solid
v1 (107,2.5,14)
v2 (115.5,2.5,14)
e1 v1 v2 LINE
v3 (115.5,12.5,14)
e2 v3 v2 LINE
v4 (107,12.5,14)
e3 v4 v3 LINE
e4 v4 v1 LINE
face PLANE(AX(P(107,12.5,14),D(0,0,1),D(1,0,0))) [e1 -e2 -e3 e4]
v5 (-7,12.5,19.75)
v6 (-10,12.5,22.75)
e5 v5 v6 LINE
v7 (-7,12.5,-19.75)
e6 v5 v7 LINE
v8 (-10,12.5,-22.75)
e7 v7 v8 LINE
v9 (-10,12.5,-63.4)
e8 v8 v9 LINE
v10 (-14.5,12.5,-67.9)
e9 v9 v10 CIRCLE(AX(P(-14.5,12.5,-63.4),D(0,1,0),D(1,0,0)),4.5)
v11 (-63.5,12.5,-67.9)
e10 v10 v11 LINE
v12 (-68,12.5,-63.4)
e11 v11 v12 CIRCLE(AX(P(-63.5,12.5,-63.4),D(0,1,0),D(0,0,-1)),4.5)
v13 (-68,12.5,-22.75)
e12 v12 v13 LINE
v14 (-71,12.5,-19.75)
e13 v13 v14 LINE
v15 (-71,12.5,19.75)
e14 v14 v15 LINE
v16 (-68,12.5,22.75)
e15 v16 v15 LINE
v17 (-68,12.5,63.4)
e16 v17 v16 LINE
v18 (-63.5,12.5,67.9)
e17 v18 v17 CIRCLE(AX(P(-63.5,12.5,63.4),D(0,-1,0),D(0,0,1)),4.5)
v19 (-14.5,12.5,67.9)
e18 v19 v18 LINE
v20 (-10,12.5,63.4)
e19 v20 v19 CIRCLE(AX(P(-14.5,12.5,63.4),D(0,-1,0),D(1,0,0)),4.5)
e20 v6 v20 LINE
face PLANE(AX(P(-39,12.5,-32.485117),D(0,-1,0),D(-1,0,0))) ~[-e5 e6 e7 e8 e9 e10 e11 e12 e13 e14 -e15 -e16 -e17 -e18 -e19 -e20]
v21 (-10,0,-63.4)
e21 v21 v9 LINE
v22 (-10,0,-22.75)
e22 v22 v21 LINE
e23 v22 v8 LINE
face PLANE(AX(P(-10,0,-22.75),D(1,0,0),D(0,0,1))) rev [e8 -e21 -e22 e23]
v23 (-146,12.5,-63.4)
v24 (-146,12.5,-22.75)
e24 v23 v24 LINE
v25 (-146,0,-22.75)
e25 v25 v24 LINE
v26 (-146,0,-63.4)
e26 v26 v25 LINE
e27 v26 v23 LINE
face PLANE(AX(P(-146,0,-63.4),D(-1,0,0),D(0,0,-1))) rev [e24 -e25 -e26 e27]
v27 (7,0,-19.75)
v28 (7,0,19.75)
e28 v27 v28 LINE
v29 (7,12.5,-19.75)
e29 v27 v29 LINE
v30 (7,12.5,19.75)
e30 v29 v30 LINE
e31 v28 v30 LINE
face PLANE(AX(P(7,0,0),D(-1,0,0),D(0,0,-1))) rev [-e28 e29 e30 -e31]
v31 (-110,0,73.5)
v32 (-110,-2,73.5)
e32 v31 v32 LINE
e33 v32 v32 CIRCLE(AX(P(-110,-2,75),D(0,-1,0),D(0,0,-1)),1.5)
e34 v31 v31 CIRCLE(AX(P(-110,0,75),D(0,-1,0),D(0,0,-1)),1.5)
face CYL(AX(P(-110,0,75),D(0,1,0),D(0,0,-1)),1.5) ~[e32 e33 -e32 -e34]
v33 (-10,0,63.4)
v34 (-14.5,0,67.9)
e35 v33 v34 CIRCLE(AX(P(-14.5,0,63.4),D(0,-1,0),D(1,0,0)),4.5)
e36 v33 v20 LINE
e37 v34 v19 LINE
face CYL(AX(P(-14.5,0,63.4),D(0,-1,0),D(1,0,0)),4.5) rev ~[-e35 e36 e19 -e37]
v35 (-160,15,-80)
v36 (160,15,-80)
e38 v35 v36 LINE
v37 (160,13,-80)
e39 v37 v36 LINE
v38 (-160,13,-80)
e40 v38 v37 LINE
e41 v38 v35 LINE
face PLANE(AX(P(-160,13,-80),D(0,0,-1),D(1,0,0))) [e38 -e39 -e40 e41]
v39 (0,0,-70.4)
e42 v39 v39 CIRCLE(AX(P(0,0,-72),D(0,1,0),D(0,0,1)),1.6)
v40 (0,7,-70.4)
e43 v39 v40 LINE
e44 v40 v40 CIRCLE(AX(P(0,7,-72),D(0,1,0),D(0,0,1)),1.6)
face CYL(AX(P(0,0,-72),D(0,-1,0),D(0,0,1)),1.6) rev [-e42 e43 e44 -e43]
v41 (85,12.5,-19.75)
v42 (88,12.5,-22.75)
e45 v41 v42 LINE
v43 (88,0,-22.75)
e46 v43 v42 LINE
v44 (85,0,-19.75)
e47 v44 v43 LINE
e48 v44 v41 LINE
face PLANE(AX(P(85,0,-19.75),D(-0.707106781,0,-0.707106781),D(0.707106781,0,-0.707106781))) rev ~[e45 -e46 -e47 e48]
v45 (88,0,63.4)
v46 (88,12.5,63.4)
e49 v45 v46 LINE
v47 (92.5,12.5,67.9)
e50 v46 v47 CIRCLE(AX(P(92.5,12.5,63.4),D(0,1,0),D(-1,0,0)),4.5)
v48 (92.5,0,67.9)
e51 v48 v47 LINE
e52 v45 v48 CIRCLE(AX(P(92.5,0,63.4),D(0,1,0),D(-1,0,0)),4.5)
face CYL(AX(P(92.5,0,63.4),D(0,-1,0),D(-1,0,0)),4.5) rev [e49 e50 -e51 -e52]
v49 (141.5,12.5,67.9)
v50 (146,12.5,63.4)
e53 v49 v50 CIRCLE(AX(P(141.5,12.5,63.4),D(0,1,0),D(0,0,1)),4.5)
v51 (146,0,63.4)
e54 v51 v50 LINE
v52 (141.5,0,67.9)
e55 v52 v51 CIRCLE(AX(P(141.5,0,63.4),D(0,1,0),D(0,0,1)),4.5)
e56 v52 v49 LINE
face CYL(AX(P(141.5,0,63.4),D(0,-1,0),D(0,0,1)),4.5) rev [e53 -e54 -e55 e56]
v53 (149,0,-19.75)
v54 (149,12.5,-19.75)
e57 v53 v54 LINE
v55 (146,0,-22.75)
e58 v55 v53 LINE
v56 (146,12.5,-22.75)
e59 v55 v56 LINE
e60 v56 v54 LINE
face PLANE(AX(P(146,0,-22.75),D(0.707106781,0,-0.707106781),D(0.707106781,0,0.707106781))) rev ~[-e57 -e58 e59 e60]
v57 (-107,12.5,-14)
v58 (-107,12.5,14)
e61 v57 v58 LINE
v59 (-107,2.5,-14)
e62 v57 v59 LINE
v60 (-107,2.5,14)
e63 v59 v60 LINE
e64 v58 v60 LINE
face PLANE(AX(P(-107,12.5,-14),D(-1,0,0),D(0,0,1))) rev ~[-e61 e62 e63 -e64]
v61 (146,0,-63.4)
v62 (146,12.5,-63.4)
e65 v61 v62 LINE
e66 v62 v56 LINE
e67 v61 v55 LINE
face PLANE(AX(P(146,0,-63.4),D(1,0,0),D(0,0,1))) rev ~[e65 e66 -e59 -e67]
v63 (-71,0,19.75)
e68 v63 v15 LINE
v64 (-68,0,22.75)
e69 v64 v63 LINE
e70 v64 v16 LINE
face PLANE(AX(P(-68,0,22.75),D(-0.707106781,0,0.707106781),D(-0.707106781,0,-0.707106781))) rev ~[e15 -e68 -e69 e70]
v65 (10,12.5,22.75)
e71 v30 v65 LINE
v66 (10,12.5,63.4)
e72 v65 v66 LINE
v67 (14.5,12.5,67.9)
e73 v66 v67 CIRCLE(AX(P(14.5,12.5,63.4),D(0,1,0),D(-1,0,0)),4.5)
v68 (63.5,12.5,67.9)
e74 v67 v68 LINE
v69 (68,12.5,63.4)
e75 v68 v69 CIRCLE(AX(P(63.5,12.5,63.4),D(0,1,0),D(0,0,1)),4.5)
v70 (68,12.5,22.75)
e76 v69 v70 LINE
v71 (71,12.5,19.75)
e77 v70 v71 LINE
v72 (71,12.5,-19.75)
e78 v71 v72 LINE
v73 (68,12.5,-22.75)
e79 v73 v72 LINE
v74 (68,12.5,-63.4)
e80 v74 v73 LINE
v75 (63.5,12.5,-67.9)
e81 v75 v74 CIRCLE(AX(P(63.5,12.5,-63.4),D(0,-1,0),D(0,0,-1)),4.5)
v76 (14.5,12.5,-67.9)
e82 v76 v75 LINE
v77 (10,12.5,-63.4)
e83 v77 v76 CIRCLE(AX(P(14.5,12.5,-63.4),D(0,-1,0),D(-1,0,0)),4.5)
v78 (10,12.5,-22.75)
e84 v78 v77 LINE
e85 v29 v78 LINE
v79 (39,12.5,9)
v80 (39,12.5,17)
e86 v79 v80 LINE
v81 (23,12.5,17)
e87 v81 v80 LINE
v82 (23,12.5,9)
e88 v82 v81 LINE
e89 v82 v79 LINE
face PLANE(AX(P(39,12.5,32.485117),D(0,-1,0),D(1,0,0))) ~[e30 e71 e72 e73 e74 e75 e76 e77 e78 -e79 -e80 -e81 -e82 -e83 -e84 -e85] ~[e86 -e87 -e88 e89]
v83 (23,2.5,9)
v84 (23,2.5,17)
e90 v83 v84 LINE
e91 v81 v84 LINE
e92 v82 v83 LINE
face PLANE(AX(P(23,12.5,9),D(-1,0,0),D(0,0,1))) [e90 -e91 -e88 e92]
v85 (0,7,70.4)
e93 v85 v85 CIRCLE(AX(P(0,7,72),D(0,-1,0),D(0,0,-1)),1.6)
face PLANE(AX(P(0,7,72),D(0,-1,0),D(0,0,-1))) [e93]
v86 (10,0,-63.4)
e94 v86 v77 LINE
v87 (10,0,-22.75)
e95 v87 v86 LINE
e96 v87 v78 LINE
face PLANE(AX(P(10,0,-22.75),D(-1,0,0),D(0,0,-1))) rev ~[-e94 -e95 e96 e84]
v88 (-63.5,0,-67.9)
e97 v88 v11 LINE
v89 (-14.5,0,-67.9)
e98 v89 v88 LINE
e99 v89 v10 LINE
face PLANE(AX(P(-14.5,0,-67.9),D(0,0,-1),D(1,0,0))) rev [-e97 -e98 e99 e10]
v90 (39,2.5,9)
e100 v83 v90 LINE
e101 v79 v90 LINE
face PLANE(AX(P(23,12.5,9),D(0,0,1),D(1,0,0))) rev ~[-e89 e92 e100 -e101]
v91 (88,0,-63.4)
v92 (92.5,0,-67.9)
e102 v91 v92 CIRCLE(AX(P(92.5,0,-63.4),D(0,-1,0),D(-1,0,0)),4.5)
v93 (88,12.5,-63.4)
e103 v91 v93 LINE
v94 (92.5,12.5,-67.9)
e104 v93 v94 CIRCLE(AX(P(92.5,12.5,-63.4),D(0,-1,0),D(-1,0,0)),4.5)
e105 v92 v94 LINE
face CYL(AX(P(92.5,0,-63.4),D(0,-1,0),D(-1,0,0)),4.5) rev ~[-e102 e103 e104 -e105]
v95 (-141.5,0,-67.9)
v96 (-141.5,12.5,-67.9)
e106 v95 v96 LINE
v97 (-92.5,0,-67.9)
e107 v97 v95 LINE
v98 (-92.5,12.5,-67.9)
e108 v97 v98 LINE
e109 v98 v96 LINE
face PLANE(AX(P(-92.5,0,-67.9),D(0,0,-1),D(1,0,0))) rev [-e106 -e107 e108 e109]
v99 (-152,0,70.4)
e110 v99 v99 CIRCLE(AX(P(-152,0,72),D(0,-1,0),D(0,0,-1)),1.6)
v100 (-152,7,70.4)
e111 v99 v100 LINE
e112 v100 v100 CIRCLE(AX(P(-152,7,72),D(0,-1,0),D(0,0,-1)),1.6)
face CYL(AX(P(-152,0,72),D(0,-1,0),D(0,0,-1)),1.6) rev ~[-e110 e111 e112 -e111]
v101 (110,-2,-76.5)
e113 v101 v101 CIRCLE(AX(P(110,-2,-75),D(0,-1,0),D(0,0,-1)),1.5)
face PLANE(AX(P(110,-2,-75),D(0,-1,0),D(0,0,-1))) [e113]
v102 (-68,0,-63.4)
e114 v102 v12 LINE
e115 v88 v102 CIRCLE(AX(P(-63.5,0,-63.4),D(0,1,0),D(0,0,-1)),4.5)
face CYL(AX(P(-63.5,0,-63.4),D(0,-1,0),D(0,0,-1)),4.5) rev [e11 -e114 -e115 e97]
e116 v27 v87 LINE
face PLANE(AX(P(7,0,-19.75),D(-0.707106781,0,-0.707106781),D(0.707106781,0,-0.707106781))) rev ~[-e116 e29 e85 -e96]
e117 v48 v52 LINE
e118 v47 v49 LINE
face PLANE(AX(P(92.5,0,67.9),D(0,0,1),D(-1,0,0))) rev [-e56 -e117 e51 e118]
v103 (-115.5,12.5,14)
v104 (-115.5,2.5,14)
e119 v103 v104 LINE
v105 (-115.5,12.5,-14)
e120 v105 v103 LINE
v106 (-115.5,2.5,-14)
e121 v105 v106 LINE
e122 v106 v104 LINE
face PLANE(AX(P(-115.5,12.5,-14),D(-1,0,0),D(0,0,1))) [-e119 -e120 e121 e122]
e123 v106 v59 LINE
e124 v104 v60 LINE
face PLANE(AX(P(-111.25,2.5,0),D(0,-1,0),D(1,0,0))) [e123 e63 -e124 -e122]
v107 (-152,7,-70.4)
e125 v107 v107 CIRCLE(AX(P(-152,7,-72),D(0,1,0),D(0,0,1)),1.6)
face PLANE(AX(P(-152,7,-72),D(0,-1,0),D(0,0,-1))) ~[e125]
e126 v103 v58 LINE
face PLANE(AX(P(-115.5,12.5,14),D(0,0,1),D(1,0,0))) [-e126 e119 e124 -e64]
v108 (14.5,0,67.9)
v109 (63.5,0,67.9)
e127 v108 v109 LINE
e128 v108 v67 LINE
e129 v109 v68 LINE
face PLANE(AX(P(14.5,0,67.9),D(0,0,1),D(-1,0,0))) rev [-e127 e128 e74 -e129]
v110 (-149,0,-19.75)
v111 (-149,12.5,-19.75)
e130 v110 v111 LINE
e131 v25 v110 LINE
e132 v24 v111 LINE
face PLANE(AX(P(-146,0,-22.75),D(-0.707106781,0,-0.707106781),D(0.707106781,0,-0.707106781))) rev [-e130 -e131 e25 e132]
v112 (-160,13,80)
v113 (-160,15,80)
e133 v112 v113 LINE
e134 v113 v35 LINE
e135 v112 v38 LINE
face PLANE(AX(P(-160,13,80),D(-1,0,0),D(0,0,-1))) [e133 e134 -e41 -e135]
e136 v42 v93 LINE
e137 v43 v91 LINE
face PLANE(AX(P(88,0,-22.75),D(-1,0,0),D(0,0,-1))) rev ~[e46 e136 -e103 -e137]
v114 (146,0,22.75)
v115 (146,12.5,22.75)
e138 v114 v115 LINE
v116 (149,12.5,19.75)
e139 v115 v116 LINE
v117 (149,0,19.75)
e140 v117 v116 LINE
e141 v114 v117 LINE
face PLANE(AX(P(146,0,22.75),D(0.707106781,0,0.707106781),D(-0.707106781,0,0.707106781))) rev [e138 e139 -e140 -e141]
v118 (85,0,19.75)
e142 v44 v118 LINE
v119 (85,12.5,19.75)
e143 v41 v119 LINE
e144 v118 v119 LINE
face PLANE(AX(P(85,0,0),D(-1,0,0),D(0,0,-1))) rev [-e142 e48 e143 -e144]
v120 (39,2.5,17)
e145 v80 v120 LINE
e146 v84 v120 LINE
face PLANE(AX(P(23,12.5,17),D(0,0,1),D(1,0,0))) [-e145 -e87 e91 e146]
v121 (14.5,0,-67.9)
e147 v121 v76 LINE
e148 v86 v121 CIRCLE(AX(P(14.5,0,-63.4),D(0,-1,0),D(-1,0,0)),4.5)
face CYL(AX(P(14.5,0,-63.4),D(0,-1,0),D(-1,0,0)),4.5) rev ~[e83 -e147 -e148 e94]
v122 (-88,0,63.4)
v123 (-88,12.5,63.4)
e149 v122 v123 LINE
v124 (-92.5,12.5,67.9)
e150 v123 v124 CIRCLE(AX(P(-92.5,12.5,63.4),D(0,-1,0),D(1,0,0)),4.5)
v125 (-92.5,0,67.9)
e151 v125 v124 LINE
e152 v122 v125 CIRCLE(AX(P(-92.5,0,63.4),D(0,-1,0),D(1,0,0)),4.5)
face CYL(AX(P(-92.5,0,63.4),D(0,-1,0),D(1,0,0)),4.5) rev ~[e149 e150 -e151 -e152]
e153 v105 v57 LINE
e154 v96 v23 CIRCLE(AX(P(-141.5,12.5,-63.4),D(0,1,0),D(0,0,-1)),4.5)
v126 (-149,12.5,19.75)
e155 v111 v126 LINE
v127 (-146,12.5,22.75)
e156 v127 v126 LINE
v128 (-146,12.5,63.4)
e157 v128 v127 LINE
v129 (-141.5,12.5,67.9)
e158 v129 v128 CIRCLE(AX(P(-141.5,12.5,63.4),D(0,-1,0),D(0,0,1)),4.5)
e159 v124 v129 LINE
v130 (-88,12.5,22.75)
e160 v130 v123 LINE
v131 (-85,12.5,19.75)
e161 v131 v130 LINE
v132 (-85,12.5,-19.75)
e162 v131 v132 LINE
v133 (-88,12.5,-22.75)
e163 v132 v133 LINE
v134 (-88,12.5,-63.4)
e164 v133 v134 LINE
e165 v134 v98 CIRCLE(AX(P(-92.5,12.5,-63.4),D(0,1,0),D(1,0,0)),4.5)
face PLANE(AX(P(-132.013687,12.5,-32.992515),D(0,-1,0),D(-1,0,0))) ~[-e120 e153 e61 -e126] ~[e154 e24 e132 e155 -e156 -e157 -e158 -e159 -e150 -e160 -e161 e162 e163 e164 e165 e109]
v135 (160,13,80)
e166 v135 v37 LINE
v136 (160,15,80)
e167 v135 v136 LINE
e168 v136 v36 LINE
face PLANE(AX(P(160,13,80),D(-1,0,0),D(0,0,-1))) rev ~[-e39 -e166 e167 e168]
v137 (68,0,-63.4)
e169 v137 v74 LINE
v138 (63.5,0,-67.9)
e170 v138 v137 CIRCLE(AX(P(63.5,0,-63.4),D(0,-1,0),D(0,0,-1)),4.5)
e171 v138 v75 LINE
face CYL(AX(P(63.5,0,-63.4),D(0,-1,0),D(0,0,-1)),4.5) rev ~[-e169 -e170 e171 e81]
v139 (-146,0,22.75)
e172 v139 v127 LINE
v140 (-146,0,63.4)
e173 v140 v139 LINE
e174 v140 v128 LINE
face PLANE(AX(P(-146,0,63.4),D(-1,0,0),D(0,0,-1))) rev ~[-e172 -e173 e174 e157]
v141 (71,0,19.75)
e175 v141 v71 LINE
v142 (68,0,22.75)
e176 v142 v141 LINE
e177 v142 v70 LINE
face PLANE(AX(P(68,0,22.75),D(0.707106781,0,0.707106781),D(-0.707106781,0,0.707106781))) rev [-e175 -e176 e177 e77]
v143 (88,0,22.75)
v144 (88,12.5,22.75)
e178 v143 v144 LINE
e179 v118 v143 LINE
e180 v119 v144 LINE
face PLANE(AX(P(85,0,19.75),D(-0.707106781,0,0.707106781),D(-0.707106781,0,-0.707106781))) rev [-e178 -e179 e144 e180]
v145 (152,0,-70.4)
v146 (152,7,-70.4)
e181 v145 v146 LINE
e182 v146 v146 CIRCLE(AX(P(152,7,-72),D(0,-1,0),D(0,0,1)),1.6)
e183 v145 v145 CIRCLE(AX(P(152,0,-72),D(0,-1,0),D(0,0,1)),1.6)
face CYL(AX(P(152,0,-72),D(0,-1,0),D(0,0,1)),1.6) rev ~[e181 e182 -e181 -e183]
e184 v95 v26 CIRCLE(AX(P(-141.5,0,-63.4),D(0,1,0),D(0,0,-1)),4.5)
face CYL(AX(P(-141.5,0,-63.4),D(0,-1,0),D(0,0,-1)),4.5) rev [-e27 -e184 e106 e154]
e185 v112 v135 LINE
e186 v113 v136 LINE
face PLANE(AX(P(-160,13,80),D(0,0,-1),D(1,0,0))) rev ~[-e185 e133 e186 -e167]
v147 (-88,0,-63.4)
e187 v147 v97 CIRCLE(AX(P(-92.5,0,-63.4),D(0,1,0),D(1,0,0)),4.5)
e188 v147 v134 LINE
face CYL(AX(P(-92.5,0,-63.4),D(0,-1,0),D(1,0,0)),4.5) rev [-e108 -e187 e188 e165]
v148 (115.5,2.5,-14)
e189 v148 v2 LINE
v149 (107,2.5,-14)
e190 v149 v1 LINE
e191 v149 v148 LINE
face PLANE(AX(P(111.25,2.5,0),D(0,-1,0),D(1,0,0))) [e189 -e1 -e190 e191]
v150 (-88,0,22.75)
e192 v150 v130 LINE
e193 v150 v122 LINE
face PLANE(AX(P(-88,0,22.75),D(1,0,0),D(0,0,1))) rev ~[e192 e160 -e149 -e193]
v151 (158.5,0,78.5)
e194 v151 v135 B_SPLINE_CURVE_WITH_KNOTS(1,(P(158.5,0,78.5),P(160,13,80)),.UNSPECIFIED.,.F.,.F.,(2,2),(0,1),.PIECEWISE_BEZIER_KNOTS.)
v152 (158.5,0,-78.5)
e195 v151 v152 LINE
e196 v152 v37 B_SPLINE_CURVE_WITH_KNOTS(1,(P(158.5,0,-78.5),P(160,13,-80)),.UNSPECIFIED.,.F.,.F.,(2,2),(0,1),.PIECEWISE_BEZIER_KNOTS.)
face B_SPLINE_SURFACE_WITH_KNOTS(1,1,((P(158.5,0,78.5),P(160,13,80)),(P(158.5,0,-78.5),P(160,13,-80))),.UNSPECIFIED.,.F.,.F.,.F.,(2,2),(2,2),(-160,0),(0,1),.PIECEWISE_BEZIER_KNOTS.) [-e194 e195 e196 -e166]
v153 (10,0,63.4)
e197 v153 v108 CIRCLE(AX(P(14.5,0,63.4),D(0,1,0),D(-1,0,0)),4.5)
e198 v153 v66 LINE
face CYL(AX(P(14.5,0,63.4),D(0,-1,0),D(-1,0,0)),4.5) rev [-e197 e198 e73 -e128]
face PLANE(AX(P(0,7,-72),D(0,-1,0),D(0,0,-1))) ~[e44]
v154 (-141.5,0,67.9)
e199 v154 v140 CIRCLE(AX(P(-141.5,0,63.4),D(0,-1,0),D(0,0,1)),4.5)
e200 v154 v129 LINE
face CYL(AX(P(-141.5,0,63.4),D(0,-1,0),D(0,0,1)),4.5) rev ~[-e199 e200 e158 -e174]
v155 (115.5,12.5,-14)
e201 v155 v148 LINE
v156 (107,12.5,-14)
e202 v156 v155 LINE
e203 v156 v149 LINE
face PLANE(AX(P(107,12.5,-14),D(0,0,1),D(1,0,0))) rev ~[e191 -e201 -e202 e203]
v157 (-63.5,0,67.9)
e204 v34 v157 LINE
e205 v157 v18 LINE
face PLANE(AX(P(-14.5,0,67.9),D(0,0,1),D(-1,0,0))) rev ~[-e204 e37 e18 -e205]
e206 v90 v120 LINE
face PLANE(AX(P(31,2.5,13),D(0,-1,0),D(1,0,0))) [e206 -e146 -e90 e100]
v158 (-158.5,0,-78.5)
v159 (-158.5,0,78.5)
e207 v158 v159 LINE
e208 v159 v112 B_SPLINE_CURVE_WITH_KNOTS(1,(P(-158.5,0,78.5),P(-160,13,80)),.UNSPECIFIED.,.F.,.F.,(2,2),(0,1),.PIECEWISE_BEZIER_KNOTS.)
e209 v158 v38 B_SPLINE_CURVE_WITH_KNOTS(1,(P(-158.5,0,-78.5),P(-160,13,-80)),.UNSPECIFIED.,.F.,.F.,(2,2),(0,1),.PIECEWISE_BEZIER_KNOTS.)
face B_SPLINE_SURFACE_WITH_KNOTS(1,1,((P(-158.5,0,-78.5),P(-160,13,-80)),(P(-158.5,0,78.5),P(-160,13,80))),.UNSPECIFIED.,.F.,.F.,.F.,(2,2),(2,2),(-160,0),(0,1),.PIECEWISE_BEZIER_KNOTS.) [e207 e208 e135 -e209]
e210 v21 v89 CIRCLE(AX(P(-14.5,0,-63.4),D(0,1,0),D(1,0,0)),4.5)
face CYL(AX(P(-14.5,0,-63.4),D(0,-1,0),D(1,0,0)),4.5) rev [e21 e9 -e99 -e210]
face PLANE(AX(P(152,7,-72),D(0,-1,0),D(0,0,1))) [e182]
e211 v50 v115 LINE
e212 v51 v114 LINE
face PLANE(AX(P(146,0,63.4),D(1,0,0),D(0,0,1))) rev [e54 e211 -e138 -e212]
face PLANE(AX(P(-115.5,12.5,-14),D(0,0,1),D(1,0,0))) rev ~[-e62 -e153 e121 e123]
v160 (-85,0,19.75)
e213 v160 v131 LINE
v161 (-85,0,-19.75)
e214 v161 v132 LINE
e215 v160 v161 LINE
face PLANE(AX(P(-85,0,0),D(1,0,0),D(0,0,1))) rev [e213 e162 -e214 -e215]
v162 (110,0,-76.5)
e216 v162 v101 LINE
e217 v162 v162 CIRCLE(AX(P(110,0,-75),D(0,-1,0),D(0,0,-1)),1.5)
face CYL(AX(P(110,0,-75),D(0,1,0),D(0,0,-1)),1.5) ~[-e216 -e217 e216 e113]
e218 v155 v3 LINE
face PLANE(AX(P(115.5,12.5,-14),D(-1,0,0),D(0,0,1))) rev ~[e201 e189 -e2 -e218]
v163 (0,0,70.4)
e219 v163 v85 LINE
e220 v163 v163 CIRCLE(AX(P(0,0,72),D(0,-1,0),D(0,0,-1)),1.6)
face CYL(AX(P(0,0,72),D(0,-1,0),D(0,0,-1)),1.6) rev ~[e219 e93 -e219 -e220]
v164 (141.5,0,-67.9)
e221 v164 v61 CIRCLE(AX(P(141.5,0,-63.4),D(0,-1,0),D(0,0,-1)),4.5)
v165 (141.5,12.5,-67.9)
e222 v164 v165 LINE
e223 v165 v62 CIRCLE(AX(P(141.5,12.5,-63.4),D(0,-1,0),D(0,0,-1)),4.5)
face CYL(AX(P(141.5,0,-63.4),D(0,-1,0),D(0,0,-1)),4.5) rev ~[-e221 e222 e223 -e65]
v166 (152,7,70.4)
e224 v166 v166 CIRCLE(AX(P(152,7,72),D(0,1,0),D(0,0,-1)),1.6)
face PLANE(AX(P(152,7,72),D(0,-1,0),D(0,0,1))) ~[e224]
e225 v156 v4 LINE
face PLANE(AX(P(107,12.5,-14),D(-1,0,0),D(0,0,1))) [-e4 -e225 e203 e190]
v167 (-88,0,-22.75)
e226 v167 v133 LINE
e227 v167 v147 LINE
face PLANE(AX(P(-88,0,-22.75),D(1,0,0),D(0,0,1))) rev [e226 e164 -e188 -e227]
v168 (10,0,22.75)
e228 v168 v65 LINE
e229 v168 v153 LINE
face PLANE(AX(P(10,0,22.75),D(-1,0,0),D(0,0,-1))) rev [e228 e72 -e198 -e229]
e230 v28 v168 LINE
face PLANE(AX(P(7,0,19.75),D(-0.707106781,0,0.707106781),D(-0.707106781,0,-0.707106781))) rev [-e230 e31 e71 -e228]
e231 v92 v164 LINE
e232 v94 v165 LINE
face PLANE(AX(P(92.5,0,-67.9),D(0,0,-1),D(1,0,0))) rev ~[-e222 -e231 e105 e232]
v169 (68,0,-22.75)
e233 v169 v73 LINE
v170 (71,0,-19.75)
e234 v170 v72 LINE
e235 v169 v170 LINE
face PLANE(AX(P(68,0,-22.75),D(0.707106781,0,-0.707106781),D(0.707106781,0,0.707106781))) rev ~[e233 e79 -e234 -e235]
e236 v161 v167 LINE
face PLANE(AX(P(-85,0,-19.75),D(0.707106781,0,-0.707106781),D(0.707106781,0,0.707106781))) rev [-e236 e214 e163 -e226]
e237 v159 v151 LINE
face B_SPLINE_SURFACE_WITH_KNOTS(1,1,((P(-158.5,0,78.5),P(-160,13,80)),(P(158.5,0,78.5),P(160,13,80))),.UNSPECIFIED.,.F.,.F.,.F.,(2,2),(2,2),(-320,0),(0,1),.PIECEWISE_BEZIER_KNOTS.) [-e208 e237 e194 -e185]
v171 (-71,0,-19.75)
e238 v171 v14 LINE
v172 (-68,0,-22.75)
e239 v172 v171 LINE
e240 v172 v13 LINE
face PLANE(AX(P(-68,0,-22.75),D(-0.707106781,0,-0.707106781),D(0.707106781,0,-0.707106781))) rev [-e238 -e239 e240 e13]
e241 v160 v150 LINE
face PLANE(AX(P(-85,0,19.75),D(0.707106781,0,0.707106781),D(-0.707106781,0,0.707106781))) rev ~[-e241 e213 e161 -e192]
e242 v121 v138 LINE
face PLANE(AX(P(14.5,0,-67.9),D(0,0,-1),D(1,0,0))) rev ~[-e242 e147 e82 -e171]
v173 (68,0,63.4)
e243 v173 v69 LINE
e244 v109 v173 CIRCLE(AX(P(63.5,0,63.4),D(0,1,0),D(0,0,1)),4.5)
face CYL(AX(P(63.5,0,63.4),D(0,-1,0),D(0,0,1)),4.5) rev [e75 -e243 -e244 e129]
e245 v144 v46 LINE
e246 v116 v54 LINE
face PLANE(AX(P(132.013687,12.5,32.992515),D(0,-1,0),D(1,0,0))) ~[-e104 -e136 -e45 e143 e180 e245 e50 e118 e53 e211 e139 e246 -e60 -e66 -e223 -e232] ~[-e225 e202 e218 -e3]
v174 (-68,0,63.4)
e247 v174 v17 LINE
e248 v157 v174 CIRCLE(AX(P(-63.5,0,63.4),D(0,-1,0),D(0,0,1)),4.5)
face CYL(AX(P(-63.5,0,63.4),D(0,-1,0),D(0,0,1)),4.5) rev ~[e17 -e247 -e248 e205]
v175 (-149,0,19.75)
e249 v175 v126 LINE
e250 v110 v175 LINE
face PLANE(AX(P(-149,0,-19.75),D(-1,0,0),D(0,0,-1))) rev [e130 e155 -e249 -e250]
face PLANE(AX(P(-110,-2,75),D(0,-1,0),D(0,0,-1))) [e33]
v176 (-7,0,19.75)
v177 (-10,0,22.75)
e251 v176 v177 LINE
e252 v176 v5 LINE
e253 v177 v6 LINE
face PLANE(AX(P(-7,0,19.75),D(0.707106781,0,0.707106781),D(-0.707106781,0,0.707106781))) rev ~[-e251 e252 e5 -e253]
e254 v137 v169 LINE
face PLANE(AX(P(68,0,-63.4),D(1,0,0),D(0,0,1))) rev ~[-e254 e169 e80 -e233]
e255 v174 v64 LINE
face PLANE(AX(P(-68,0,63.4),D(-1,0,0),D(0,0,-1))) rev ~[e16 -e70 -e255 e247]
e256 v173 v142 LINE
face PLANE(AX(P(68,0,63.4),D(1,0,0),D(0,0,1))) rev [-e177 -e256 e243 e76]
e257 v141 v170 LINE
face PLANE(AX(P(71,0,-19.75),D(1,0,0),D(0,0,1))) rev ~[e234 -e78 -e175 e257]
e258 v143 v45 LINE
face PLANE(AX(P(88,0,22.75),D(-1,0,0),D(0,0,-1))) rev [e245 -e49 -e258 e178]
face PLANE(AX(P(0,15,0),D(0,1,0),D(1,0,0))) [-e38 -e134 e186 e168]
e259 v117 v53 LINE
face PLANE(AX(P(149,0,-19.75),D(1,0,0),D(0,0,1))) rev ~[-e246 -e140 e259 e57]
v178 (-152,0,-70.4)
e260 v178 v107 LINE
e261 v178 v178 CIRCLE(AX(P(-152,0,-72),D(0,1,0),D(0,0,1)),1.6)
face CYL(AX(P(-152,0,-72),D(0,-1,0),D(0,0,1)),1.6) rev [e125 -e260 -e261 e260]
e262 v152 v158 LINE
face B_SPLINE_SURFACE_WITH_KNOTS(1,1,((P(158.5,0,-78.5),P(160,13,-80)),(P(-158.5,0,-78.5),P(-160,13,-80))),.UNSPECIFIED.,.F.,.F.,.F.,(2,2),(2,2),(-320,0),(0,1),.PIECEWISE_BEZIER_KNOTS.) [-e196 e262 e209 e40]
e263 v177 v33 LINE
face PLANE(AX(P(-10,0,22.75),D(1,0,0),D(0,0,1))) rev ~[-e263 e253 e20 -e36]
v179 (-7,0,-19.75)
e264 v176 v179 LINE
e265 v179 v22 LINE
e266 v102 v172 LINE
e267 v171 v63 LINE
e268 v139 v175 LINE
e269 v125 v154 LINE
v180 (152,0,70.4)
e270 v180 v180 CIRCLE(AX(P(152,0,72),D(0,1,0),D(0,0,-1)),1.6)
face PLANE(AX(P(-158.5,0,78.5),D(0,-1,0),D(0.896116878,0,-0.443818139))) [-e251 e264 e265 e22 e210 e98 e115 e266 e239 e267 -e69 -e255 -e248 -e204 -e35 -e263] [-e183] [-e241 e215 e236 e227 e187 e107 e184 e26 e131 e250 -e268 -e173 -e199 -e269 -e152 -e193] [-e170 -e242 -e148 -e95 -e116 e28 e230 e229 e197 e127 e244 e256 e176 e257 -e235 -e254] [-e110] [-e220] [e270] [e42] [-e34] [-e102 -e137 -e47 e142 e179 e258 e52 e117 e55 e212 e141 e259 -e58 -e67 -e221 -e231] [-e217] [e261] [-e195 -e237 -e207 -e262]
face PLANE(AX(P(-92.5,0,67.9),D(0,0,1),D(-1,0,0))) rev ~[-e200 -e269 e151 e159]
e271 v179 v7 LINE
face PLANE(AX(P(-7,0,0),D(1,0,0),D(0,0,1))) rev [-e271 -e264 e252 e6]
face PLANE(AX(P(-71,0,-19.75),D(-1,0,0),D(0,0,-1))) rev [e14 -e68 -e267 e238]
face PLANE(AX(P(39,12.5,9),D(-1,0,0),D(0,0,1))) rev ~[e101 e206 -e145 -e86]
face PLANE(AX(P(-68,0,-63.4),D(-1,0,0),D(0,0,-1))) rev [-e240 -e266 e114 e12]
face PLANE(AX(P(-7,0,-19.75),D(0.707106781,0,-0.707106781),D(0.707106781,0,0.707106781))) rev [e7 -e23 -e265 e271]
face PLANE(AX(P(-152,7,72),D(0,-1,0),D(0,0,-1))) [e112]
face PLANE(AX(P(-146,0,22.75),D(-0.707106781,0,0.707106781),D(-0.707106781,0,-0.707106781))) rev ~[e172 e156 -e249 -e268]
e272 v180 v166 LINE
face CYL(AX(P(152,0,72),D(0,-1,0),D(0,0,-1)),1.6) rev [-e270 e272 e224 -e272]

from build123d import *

# Parameters (mm, degrees)
SKETCH2_W                                  = 320
SKETCH2_H                                  = 160
BOSS_EXTRUDE1_DEPTH                        = 2
SKETCH3_R                                  = 1.6
CUT_EXTRUDE1_DEPTH                         = 7
CUT_EXTRUDE2_DEPTH                         = 12.5
MIRROR1_AT_THE_SECOND_PLANE_COPY_1_SKETC_R = 1.6
MIRROR1_AT_THE_SECOND_PLANE_COPY_1_DEPTH   = 7
MIRROR1_AT_THE_SECOND_PLANE_COPY_2_DEPTH   = 12.5
SKETCH4_W                                  = 8.5
SKETCH4_H                                  = 28
SKETCH4_W_2                                = 16
SKETCH4_H_2                                = 8
BOSS_EXTRUDE3_DEPTH                        = 10
SKETCH5_R                                  = 1.5
BOSS_EXTRUDE4_DEPTH                        = 2


with BuildPart() as part:
    # Sketch2 → Boss-Extrude1 (new body)
    with BuildSketch(Plane(origin=(0, 13, 0), x_dir=(1, 0, 0), z_dir=(0, 1, 0))):
        Rectangle(SKETCH2_W, SKETCH2_H)
    extrude(amount=BOSS_EXTRUDE1_DEPTH)

    # Sketch1 → Loft1 section 0
    with BuildSketch(Plane(origin=(0, 0, 0), x_dir=(1, 0, 0), z_dir=(0, 1, 0))):
        with BuildLine():
            Line((-158.5, -78.5), (158.5, -78.5))
            Line((158.5, -78.5), (158.5, 78.5))
            Line((158.5, 78.5), (-158.5, 78.5))
            Line((-158.5, 78.5), (-158.5, -78.5))
        make_face()
    # Sketch2<2> → Loft1 section 1
    with BuildSketch(Plane(origin=(0, 13, 0), x_dir=(1, 0, 0), z_dir=(0, 1, 0))):
        with BuildLine():
            Line((160, -80), (-160, -80))
            Line((-160, -80), (-160, 80))
            Line((-160, 80), (160, 80))
            Line((160, 80), (160, -80))
        make_face()
    loft()

    # Sketch3 → Cut-Extrude1 (cut)
    with BuildSketch(Plane.XZ):
        with Locations((0, 72)):
            Circle(SKETCH3_R)
        with Locations((-152, 72)):
            Circle(SKETCH3_R)
    cut_extrude1 = extrude(amount=-CUT_EXTRUDE1_DEPTH, mode=Mode.SUBTRACT)

    # Sketch3<4> → Cut-Extrude2 (cut)
    with BuildSketch(Plane.XZ):
        with BuildLine():
            Line((-85, 0), (-85, 19.75))
            Line((-85, 19.75), (-88, 22.75))
            Line((-88, 22.75), (-88, 63.4))
            ThreePointArc((-88, 63.4), (-89.318019485, 66.581980515), (-92.5, 67.9))
            Line((-92.5, 67.9), (-141.5, 67.9))
            ThreePointArc((-141.5, 67.9), (-144.681980515, 66.581980515), (-146, 63.4))
            Line((-146, 63.4), (-146, 22.75))
            Line((-146, 22.75), (-149, 19.75))
            Line((-149, 19.75), (-149, 0))
            Line((-149, 0), (-85, 0))
        make_face()
        with BuildLine():
            Line((-71, 0), (-7, 0))
            Line((-7, 0), (-7, 19.75))
            Line((-7, 19.75), (-10, 22.75))
            Line((-10, 22.75), (-10, 63.4))
            ThreePointArc((-10, 63.4), (-11.318019485, 66.581980515), (-14.5, 67.9))
            Line((-14.5, 67.9), (-63.5, 67.9))
            ThreePointArc((-63.5, 67.9), (-66.681980515, 66.581980515), (-68, 63.4))
            Line((-68, 63.4), (-68, 22.75))
            Line((-68, 22.75), (-71, 19.75))
            Line((-71, 19.75), (-71, 0))
        make_face()
    cut_extrude2 = extrude(amount=-CUT_EXTRUDE2_DEPTH, mode=Mode.SUBTRACT)

    # Mirror1: Cut-Extrude1, Cut-Extrude2 across plane
    add(cut_extrude1.mirror(Plane.XY), mode=Mode.SUBTRACT)
    add(cut_extrude2.mirror(Plane.XY), mode=Mode.SUBTRACT)

    # Mirror1 at the second plane: Cut-Extrude1, Cut-Extrude2 across plane
    add(cut_extrude1.mirror(Plane(origin=(0, 0, 0), x_dir=(0, 0, 1), z_dir=(1, 0, 0))), mode=Mode.SUBTRACT)
    add(cut_extrude2.mirror(Plane(origin=(0, 0, 0), x_dir=(0, 0, 1), z_dir=(1, 0, 0))), mode=Mode.SUBTRACT)

    # Mirror1 at the second plane copy 1 sketc → Mirror1 at the second plane copy 1 (cut)
    with BuildSketch(Plane(origin=(0, 0, 0), x_dir=(-1, 0, 0), z_dir=(0, -1, 0))):
        with Locations((0, 72)):
            Circle(MIRROR1_AT_THE_SECOND_PLANE_COPY_1_SKETC_R)
        with Locations((-152, 72)):
            Circle(MIRROR1_AT_THE_SECOND_PLANE_COPY_1_SKETC_R)
    extrude(amount=-MIRROR1_AT_THE_SECOND_PLANE_COPY_1_DEPTH, mode=Mode.SUBTRACT)

    # Mirror1 at the second plane copy 2 sketc → Mirror1 at the second plane copy 2 (cut)
    with BuildSketch(Plane(origin=(0, 0, 0), x_dir=(-1, 0, 0), z_dir=(0, -1, 0))):
        with BuildLine():
            Line((-85, 0), (-85, 19.75))
            Line((-85, 19.75), (-88, 22.75))
            Line((-88, 22.75), (-88, 63.4))
            ThreePointArc((-88, 63.4), (-89.318019485, 66.581980515), (-92.5, 67.9))
            Line((-92.5, 67.9), (-141.5, 67.9))
            ThreePointArc((-141.5, 67.9), (-144.681980515, 66.581980515), (-146, 63.4))
            Line((-146, 63.4), (-146, 22.75))
            Line((-146, 22.75), (-149, 19.75))
            Line((-149, 19.75), (-149, 0))
            Line((-149, 0), (-85, 0))
        make_face()
        with BuildLine():
            Line((-71, 0), (-7, 0))
            Line((-7, 0), (-7, 19.75))
            Line((-7, 19.75), (-10, 22.75))
            Line((-10, 22.75), (-10, 63.4))
            ThreePointArc((-10, 63.4), (-11.318019485, 66.581980515), (-14.5, 67.9))
            Line((-14.5, 67.9), (-63.5, 67.9))
            ThreePointArc((-63.5, 67.9), (-66.681980515, 66.581980515), (-68, 63.4))
            Line((-68, 63.4), (-68, 22.75))
            Line((-68, 22.75), (-71, 19.75))
            Line((-71, 19.75), (-71, 0))
        make_face()
    extrude(amount=-MIRROR1_AT_THE_SECOND_PLANE_COPY_2_DEPTH, mode=Mode.SUBTRACT)

    # Sketch4 → Boss-Extrude3 (add)
    with BuildSketch(Plane.XZ.offset(-12.5)):
        with Locations((-111.25, 0)):
            Rectangle(SKETCH4_W, SKETCH4_H)
        with Locations((111.25, 0)):
            Rectangle(SKETCH4_W, SKETCH4_H)
        with Locations((31, 13)):
            Rectangle(SKETCH4_W_2, SKETCH4_H_2)
    extrude(amount=BOSS_EXTRUDE3_DEPTH)

    # Sketch5 → Boss-Extrude4 (add)
    with BuildSketch(Plane.XZ):
        with Locations((-110, 75)):
            Circle(SKETCH5_R)
        with Locations((110, -75)):
            Circle(SKETCH5_R)
    extrude(amount=BOSS_EXTRUDE4_DEPTH)


solid = part.part
